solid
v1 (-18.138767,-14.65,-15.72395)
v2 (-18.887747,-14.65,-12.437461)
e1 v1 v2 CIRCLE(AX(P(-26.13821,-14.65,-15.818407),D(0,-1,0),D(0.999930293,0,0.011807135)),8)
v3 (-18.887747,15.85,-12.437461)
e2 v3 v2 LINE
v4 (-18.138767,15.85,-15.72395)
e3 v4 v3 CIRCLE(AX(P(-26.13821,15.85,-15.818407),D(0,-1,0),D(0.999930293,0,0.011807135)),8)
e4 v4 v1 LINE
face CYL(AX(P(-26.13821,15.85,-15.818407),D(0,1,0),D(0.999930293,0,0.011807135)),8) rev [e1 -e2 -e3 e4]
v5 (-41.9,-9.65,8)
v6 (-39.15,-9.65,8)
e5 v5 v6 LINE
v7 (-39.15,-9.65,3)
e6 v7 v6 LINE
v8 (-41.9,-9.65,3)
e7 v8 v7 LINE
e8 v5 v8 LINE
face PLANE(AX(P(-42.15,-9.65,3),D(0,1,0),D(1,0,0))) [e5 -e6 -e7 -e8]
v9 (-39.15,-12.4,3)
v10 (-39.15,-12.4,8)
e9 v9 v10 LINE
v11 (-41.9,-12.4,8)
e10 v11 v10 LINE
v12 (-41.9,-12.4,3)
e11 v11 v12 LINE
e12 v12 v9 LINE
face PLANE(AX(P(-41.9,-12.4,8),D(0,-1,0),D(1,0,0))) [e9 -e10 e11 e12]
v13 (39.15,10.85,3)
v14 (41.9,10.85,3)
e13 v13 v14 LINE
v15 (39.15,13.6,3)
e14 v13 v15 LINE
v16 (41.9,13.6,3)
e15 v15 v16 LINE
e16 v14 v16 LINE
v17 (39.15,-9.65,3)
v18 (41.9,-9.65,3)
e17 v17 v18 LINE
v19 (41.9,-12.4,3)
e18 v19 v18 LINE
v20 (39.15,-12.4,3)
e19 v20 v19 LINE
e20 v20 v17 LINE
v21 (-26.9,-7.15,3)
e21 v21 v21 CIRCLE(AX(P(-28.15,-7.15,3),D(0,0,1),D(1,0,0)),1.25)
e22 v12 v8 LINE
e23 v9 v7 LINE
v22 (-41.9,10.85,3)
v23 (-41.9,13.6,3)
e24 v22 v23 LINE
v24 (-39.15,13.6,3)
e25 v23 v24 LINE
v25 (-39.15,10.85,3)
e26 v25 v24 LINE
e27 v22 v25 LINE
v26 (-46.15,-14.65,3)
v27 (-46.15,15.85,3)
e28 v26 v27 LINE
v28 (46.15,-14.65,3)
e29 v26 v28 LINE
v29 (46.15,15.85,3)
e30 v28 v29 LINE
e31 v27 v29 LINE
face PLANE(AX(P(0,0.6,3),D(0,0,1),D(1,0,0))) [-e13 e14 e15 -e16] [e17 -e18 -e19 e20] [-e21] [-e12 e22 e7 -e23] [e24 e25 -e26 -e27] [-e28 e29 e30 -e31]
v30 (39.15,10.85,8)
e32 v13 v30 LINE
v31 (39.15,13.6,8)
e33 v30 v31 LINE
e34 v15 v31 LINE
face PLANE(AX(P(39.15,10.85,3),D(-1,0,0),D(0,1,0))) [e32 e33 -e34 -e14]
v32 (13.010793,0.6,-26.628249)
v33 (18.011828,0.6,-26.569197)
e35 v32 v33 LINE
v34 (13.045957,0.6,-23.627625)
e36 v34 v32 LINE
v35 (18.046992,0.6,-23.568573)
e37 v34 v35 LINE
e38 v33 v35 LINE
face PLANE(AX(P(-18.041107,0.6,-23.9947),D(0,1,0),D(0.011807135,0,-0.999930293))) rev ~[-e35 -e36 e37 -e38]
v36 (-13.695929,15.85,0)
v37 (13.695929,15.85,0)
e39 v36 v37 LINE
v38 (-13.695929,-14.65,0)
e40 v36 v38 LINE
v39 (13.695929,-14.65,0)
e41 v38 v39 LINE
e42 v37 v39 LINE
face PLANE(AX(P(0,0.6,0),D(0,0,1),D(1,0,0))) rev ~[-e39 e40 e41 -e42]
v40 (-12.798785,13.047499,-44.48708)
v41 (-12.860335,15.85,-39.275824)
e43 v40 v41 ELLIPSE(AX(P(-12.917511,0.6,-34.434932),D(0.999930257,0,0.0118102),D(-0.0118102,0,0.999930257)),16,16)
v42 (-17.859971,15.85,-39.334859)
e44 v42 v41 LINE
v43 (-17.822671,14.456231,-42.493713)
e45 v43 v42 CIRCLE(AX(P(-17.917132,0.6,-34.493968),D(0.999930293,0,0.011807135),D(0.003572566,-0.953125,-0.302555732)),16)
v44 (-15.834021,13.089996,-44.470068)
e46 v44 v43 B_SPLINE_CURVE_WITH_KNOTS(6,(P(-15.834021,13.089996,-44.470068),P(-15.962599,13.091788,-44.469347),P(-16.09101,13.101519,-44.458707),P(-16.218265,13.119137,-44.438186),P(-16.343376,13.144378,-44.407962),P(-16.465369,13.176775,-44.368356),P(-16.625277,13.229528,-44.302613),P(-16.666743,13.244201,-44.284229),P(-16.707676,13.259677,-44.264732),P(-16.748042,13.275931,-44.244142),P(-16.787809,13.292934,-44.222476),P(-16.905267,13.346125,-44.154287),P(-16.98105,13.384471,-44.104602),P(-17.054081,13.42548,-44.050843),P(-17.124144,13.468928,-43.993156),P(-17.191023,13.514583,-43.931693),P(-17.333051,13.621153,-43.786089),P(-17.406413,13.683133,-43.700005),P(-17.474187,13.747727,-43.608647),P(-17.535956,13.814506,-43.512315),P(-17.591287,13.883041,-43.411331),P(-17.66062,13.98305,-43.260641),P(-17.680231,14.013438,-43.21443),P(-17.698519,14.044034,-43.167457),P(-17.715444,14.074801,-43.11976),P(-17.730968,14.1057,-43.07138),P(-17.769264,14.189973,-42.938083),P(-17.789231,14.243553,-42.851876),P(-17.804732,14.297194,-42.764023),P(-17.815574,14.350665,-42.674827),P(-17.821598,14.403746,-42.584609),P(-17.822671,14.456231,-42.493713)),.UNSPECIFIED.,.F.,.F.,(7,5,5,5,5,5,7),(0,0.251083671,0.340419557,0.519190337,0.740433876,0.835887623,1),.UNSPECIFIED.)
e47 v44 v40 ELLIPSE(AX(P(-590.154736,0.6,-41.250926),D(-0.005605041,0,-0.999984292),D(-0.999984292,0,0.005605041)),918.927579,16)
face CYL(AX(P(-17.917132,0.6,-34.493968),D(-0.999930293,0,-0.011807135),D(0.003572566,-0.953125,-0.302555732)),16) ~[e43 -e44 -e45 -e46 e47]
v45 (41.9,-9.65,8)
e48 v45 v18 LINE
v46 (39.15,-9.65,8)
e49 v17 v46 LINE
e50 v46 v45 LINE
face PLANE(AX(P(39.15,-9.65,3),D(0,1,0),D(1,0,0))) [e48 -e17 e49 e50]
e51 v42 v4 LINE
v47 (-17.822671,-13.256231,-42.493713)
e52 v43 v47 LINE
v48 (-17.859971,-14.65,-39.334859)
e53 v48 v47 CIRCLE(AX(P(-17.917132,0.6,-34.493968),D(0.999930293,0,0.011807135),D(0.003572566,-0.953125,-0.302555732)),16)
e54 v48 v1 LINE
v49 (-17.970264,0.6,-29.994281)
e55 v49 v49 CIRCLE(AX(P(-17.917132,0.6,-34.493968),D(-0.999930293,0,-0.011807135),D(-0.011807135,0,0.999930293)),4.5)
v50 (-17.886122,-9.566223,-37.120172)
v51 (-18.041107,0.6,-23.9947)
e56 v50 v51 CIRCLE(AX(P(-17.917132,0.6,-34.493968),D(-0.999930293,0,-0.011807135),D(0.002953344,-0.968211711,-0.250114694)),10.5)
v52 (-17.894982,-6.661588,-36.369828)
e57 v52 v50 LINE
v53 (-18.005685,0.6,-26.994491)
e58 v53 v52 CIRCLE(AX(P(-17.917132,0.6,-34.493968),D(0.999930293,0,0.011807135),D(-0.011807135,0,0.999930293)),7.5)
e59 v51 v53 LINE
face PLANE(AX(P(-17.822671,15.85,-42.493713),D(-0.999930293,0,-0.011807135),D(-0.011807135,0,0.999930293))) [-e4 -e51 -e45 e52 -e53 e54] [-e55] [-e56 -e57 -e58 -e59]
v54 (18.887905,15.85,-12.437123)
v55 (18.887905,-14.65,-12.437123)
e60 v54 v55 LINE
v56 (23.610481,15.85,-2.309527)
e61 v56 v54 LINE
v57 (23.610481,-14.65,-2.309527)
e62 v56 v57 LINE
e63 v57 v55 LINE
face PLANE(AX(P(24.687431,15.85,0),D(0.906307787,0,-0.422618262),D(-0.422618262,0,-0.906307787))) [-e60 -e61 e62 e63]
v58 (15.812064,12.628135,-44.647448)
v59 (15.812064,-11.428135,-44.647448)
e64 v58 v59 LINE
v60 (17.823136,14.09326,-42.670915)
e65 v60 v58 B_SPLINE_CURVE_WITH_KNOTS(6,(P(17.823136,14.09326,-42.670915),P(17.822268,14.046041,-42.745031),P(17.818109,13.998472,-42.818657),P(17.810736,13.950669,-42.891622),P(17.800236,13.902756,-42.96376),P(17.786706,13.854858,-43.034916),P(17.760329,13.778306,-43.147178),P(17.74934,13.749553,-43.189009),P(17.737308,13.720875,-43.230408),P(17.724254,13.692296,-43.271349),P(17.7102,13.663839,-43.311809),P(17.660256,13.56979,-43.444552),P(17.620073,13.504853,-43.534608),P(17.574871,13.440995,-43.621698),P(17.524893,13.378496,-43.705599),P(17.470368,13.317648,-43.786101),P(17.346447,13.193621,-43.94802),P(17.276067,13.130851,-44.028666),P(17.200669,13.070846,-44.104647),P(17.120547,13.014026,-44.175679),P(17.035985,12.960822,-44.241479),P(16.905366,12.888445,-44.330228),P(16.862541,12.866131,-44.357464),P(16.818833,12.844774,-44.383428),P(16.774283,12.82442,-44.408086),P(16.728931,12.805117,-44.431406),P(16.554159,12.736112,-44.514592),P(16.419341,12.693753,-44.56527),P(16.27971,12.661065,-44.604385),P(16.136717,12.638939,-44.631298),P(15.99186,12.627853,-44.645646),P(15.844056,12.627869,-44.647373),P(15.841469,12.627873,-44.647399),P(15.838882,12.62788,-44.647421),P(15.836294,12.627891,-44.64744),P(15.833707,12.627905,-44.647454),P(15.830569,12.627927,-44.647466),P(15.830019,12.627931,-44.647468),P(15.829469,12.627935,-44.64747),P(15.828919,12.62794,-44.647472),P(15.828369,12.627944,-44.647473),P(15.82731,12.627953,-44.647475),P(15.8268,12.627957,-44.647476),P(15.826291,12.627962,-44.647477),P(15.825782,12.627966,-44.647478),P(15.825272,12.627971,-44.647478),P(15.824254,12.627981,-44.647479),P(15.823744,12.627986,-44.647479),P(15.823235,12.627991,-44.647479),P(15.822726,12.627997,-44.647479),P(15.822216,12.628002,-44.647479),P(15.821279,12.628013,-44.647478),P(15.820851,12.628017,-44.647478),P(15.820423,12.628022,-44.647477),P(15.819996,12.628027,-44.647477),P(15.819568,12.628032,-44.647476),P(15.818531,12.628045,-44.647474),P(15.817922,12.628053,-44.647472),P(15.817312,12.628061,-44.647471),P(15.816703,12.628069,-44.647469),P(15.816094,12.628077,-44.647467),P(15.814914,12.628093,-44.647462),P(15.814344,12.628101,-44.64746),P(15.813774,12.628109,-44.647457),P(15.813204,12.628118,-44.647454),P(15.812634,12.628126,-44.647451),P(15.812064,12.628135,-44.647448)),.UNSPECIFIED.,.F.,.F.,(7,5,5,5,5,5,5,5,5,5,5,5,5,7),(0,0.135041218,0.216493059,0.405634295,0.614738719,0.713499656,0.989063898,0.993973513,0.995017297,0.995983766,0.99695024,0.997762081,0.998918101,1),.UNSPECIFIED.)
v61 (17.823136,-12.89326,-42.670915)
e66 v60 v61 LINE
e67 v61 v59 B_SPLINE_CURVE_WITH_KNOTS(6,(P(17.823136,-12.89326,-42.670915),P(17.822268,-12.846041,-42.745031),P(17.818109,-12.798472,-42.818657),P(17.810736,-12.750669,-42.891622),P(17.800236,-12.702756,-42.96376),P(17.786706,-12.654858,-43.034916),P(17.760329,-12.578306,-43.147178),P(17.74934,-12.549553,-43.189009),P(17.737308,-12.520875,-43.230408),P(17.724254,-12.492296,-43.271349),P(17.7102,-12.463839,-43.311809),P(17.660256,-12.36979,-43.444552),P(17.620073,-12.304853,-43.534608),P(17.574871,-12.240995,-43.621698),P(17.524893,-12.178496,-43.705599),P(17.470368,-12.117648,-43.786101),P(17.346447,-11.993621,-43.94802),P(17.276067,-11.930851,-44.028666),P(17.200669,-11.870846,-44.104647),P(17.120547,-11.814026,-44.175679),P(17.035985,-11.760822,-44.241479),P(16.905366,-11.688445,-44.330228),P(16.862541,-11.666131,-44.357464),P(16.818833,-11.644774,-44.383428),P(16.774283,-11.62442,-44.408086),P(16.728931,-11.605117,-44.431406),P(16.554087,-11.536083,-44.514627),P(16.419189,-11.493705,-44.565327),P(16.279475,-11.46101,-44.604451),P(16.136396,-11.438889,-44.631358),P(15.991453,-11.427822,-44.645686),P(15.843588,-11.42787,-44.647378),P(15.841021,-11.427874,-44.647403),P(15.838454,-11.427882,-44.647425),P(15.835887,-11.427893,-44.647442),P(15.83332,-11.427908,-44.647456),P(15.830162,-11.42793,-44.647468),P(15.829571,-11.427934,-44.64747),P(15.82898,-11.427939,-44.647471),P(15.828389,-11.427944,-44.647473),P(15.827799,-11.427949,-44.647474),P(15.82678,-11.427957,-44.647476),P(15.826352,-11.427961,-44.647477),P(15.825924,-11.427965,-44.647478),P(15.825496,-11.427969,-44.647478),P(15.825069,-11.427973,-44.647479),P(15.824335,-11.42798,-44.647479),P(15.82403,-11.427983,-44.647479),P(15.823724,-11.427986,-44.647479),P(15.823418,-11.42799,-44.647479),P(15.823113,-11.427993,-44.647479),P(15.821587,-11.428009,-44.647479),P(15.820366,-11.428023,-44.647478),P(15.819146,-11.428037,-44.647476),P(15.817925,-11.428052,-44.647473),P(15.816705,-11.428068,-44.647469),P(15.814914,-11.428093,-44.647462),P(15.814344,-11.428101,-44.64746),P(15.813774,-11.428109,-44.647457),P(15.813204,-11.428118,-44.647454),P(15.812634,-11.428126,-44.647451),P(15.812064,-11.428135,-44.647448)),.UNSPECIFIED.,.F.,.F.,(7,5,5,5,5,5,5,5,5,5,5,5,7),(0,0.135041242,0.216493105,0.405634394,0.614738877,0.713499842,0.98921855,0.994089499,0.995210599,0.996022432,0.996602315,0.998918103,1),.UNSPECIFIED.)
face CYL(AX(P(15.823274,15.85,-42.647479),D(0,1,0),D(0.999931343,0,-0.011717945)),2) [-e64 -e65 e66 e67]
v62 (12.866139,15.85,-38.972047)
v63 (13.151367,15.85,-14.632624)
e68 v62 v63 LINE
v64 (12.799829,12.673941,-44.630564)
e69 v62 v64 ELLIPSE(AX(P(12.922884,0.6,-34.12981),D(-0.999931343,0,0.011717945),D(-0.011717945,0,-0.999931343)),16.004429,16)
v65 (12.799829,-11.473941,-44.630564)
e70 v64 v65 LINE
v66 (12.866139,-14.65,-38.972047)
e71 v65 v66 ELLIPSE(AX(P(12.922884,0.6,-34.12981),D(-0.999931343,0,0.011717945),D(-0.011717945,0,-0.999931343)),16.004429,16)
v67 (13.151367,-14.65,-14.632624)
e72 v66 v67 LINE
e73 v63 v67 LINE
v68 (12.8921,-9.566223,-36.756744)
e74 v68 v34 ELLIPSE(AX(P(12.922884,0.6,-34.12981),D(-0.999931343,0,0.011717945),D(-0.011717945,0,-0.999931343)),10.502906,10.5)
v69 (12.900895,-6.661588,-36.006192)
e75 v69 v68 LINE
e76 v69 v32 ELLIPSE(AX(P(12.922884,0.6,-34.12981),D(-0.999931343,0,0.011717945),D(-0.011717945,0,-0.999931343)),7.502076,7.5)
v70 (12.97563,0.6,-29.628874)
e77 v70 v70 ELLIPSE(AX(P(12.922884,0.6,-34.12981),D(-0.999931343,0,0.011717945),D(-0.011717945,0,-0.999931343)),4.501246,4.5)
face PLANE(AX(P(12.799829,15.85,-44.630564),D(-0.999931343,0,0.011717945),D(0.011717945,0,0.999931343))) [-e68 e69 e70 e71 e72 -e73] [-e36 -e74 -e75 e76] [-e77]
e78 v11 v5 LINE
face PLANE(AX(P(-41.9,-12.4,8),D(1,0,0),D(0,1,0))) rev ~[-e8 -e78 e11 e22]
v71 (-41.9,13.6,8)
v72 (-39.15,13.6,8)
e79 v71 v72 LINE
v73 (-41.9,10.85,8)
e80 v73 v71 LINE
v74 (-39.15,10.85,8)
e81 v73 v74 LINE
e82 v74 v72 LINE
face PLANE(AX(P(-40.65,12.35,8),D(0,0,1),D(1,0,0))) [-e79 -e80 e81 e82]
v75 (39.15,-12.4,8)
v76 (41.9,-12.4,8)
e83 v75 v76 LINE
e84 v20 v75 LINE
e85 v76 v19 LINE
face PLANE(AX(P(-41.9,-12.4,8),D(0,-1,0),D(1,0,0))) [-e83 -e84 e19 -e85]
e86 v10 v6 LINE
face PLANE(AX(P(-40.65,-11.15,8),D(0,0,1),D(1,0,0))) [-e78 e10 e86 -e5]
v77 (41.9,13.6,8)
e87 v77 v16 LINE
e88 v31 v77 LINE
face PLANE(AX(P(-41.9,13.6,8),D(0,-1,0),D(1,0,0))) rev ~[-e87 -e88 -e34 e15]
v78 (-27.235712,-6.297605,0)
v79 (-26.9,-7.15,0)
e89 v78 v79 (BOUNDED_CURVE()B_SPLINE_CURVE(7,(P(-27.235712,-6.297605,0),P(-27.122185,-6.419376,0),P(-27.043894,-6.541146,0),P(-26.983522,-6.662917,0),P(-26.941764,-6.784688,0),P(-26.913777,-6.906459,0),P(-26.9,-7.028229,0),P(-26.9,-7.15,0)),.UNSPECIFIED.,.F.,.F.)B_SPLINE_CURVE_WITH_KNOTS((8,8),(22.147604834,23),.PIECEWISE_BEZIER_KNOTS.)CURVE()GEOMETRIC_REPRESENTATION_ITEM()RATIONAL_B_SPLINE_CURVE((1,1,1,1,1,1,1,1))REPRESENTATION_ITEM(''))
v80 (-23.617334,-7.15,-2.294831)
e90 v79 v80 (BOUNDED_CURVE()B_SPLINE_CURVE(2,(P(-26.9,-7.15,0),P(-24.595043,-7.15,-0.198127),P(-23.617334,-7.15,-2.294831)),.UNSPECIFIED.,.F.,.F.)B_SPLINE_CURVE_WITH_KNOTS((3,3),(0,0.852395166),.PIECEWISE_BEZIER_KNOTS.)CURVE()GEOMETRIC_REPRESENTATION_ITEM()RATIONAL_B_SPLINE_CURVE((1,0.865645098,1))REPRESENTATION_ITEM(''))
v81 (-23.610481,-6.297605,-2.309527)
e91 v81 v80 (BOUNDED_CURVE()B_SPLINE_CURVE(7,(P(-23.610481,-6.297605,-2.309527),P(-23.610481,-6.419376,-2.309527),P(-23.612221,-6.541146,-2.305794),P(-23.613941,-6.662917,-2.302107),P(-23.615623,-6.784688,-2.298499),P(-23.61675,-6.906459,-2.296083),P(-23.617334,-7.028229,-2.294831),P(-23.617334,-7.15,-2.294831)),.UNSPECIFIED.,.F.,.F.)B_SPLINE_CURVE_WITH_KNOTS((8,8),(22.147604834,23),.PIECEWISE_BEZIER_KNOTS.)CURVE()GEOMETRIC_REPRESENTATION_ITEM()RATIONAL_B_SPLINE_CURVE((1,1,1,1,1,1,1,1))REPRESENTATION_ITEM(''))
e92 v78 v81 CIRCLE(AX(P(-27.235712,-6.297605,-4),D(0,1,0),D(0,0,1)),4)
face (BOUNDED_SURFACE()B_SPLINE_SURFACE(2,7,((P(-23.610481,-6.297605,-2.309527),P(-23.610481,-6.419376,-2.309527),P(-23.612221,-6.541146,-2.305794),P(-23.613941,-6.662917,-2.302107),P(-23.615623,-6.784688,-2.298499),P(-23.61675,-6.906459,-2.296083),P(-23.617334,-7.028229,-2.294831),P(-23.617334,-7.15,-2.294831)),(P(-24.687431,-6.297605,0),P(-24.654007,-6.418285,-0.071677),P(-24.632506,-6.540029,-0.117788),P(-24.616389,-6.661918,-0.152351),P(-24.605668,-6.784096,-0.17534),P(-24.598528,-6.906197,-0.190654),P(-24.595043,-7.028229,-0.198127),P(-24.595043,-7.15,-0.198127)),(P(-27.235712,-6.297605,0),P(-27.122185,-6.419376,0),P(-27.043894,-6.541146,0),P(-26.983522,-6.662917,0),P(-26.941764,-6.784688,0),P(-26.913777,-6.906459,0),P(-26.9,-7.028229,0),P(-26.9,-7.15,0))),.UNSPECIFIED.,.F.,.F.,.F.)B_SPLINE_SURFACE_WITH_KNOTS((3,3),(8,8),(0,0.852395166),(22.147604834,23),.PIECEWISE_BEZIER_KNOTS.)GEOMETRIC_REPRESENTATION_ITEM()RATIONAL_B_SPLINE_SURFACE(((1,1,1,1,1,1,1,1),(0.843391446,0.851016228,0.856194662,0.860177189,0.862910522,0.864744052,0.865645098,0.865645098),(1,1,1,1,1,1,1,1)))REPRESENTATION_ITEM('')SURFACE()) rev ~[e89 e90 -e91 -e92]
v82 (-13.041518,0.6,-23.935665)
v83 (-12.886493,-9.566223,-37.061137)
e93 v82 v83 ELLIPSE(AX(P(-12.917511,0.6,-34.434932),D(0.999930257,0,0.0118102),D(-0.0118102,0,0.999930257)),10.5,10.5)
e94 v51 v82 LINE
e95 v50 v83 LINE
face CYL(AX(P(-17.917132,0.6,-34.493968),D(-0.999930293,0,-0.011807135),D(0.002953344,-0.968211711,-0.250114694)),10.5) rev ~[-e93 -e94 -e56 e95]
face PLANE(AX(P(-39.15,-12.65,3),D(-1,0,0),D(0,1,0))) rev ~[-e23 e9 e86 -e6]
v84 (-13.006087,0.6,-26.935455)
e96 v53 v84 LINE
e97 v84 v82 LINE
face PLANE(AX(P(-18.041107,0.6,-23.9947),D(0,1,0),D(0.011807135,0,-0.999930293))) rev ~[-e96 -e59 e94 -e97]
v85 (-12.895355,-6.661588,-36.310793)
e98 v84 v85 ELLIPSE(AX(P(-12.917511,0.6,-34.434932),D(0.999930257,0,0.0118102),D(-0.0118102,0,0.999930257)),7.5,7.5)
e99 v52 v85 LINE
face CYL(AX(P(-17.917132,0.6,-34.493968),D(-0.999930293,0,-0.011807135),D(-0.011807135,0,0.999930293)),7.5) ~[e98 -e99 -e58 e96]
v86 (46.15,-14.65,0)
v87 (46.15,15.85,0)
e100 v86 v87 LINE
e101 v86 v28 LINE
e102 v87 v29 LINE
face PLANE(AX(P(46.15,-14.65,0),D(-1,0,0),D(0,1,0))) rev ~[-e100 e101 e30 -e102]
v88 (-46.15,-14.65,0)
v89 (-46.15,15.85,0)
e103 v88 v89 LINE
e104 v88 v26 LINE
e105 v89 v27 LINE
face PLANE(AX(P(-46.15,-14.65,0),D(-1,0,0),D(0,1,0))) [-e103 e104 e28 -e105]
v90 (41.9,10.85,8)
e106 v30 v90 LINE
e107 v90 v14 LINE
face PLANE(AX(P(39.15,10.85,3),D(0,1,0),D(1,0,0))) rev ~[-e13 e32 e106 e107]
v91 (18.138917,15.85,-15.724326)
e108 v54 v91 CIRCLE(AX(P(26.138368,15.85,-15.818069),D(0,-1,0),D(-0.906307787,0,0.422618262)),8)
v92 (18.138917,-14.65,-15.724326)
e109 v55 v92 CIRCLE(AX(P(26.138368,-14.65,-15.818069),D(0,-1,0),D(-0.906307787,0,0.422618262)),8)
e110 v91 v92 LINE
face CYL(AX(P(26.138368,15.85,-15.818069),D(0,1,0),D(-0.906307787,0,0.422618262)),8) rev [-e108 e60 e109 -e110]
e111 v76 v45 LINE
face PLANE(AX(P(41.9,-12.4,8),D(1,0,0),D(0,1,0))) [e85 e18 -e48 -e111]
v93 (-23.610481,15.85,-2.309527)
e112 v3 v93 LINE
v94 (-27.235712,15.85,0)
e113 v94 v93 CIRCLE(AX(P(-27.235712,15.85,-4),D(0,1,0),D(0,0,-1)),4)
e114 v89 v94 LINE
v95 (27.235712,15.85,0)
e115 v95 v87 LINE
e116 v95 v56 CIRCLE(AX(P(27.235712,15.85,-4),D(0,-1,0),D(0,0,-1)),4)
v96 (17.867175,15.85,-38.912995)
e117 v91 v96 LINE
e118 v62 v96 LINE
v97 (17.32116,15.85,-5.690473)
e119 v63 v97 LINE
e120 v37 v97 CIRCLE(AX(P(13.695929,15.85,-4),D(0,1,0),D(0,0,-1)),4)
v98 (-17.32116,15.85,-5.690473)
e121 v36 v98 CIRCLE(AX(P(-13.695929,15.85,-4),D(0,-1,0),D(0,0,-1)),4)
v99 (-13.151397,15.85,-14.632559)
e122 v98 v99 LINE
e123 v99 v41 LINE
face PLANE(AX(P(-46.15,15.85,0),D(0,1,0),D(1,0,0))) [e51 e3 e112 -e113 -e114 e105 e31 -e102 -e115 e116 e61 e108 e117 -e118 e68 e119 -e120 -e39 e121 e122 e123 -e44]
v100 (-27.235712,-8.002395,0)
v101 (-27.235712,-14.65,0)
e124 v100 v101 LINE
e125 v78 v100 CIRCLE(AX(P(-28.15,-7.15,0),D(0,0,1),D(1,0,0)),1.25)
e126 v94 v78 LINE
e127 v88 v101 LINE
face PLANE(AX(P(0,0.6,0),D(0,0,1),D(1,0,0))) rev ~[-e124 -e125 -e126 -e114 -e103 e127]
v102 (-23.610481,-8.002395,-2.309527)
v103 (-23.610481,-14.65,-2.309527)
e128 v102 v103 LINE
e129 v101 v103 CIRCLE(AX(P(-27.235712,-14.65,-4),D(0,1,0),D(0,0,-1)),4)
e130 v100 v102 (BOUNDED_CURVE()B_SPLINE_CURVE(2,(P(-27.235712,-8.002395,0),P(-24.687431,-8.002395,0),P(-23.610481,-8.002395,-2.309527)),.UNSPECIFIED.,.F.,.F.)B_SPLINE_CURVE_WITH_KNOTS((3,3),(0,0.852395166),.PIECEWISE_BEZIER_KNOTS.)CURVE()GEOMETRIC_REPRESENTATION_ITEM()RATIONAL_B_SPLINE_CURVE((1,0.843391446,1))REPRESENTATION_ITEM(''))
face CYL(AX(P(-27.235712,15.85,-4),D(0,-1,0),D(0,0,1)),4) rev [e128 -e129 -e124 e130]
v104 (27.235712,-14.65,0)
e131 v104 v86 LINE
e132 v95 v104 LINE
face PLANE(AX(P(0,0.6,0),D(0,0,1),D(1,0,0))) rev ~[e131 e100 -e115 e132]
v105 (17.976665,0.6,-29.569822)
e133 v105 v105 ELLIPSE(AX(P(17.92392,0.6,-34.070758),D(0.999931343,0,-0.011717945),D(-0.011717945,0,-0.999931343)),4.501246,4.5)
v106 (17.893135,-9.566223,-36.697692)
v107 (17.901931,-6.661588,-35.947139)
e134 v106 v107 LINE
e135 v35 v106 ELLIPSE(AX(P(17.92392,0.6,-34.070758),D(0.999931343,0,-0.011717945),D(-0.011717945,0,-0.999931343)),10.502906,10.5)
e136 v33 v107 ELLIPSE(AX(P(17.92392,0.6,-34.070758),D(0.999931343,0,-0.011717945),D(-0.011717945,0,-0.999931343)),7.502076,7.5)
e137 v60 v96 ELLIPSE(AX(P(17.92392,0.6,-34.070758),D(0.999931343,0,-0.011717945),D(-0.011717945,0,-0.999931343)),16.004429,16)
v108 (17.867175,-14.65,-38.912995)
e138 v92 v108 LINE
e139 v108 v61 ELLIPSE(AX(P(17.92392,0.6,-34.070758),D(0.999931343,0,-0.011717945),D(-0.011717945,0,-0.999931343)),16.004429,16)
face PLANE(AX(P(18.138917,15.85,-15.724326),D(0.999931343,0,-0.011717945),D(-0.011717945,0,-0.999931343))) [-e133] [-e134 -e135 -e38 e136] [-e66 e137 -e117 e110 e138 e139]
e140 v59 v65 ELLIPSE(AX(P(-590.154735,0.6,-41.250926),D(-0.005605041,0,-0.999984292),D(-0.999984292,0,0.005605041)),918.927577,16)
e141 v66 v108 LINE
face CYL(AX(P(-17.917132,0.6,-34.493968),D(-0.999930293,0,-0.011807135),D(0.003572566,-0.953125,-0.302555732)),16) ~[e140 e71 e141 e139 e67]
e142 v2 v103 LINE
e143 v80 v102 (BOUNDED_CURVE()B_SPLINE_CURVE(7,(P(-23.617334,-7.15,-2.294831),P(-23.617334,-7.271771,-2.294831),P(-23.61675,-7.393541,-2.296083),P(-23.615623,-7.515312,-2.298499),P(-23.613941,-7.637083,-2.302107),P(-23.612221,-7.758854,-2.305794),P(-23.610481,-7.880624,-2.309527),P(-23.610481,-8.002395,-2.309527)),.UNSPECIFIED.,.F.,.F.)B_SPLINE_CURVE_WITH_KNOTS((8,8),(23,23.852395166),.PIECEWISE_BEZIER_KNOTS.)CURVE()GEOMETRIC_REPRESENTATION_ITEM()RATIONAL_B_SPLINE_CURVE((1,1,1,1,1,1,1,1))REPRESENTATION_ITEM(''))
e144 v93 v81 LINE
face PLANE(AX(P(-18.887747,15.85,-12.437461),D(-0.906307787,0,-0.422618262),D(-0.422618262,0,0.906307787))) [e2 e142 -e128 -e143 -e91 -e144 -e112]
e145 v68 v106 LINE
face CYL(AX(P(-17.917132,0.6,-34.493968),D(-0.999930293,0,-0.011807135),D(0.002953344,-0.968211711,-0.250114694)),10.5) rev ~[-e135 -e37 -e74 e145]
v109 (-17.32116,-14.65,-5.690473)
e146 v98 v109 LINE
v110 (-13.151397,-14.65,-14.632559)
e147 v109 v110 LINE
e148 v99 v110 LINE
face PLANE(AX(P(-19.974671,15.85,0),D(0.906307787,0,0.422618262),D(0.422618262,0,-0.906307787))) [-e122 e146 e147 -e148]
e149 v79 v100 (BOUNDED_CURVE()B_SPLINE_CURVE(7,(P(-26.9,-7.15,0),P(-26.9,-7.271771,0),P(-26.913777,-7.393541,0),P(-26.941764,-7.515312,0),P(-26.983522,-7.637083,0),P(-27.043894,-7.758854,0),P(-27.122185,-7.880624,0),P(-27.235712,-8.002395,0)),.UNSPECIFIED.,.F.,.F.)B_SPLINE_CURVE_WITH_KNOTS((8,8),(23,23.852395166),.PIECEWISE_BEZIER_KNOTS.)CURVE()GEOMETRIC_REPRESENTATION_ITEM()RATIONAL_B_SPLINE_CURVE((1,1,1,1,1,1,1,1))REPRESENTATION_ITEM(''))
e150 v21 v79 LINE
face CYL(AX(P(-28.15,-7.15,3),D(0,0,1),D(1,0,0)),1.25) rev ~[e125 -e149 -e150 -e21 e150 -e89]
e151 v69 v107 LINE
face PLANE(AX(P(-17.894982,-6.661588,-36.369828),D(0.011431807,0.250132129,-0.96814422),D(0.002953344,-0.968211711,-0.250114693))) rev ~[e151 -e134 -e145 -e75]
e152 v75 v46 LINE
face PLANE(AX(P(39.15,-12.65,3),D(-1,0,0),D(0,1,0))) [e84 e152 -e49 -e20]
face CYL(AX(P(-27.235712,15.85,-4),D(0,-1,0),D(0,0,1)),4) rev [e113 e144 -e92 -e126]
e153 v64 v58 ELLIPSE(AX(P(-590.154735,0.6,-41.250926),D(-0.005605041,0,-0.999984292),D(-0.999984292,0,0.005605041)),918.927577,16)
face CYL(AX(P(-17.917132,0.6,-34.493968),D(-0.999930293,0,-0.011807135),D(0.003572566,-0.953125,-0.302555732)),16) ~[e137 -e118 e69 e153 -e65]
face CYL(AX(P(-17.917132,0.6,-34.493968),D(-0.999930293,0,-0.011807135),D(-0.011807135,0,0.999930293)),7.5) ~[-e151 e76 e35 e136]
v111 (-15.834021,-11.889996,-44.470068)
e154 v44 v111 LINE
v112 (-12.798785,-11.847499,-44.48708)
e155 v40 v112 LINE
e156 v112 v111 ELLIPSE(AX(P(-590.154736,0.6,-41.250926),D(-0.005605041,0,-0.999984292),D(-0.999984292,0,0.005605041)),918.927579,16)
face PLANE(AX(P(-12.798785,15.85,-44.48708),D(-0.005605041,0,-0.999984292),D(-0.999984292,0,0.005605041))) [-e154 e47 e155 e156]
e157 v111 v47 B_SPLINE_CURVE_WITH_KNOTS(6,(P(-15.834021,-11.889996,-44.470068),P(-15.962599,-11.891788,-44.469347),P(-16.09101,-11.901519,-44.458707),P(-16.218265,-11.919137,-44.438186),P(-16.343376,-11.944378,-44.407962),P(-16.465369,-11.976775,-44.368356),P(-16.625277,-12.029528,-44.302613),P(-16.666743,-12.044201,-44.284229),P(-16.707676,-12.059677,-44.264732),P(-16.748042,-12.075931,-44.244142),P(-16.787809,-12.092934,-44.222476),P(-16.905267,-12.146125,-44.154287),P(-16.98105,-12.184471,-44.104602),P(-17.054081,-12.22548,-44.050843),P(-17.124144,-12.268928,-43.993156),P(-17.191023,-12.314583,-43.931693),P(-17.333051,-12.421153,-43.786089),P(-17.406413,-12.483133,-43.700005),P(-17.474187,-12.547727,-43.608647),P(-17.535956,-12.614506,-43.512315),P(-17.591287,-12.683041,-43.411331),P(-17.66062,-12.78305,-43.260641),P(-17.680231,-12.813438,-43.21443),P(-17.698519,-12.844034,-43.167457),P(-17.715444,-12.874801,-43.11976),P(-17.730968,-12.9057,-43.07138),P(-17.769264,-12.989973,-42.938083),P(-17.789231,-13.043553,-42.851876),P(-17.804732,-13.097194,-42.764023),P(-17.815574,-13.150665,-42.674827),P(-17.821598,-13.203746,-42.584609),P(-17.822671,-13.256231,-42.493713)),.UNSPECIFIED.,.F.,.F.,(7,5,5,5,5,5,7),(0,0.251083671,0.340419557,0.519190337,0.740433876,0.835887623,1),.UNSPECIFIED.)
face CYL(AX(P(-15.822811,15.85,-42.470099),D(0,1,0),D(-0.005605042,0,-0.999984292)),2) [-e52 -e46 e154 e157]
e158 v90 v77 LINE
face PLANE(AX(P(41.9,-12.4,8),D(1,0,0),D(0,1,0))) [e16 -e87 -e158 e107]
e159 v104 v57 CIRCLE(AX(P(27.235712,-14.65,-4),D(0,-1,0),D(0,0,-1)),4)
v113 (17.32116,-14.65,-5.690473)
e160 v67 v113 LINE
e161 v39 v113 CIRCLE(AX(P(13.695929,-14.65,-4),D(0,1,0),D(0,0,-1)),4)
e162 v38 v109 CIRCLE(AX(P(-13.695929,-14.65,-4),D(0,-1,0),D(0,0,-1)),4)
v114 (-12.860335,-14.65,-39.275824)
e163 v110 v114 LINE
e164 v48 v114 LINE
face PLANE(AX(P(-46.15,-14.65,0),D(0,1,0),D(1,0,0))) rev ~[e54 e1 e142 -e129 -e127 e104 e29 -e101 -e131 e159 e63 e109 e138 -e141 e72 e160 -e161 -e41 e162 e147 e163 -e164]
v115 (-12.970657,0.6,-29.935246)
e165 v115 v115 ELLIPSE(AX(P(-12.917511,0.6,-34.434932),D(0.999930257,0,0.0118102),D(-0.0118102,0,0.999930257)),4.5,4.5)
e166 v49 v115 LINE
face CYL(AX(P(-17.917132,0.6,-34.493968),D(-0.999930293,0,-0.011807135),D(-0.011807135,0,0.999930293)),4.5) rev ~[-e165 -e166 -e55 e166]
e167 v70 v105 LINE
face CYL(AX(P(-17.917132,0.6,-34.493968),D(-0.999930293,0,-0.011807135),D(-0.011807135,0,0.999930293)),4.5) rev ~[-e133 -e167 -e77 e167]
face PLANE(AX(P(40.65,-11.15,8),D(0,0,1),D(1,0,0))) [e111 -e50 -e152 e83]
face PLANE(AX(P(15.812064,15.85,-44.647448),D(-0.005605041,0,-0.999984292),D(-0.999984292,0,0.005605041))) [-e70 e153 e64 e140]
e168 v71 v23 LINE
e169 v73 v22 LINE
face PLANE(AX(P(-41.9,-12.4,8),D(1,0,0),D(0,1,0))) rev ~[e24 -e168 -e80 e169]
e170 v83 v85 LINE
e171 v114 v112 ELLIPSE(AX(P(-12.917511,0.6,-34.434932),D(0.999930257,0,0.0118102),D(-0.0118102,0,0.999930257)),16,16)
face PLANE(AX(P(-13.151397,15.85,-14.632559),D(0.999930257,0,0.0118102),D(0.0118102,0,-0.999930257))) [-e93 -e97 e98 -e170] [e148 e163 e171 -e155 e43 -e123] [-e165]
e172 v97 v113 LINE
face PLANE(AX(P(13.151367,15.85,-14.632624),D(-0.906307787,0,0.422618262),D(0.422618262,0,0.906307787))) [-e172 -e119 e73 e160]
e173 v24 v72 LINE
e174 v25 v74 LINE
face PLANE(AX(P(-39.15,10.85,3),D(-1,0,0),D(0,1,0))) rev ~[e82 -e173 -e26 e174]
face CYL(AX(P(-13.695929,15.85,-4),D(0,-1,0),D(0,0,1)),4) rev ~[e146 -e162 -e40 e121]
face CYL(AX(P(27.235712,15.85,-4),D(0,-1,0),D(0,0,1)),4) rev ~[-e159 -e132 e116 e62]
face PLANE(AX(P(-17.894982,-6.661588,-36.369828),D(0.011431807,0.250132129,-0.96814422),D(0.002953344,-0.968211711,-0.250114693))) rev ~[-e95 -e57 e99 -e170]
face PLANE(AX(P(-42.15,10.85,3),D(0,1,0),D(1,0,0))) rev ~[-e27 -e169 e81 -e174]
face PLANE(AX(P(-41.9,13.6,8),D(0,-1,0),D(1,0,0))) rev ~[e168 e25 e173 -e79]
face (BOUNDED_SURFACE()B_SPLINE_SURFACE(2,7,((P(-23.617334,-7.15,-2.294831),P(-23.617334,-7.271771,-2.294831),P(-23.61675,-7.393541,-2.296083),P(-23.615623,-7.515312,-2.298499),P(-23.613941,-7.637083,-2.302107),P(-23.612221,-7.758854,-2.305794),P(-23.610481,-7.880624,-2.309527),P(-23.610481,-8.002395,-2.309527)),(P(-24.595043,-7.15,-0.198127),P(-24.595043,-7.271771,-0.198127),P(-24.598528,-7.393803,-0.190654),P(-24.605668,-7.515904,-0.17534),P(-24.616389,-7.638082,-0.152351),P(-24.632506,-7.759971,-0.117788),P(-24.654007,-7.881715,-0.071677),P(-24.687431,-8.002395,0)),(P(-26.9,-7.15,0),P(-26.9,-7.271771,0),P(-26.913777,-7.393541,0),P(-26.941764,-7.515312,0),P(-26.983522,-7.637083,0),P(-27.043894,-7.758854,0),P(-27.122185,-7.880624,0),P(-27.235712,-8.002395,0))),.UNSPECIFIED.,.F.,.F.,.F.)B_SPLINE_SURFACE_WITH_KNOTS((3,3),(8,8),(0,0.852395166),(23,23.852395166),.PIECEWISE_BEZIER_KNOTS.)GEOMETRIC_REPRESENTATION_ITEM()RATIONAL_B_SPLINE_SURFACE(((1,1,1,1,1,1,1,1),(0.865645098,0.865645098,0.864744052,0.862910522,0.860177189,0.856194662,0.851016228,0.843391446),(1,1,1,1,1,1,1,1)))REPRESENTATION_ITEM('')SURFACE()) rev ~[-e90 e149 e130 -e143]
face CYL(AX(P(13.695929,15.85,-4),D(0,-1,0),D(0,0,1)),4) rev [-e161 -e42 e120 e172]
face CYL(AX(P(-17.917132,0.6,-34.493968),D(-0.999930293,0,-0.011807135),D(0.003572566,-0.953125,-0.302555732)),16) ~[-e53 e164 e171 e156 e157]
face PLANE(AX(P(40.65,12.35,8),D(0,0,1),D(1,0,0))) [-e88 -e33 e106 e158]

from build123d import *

# Parameters (mm, degrees)
SKETCH1_W           = 92.3
SKETCH1_H           = 30.5
SKETCH1_W_2         = 84.3
SKETCH1_H_2         = 26.5
BOSS_EXTRUDE1_DEPTH = 3
SKETCH2_W           = 3
SKETCH2_H           = 3
BOSS_EXTRUDE2_DEPTH = 5
SKETCH13_W          = 92.3
SKETCH13_H          = 30.5
SKETCH13_W_2        = 83.8
SKETCH13_H_2        = 26
CUT_EXTRUDE9_DEPTH  = 5
SKETCH12_R          = 1.25
CUT_EXTRUDE8_DEPTH  = 12
BOSS_EXTRUDE4_DEPTH = 30.5
FILLET1_R           = 4
SKETCH15_R          = 4.5
CUT_EXTRUDE10_DEPTH = 51


with BuildPart() as part:
    # Sketch1 → Boss-Extrude1 (new body)
    # profile 1 of 2: a face of its own
    with BuildSketch(Plane.XY):
        with Locations((0, 0.6)):
            Rectangle(SKETCH1_W, SKETCH1_H)
        with Locations((0, 0.6)):
            Rectangle(SKETCH1_W_2, SKETCH1_H_2, mode=Mode.SUBTRACT)
    # profile 2 of 2: a face of its own
    with BuildSketch(Plane.XY):
        with Locations((0, 0.6)):
            Rectangle(SKETCH1_W_2, SKETCH1_H_2)
    extrude(amount=BOSS_EXTRUDE1_DEPTH)

    # Sketch2 → Boss-Extrude2 (add)
    with BuildSketch(Plane.XY.offset(3)):
        with Locations((-40.65, 12.35)):
            Rectangle(SKETCH2_W, SKETCH2_H)
        with Locations((40.65, 12.35)):
            Rectangle(SKETCH2_W, SKETCH2_H)
        with Locations((40.65, -11.15)):
            Rectangle(SKETCH2_W, SKETCH2_H)
        with Locations((-40.65, -11.15)):
            Rectangle(SKETCH2_W, SKETCH2_H)
    extrude(amount=BOSS_EXTRUDE2_DEPTH)

    # Sketch13 → Cut-Extrude9 (cut)
    with BuildSketch(Plane.XY.offset(8)):
        with Locations((0, 0.6)):
            Rectangle(SKETCH13_W, SKETCH13_H)
        with Locations((0, 0.6)):
            Rectangle(SKETCH13_W_2, SKETCH13_H_2, mode=Mode.SUBTRACT)
    extrude(amount=-CUT_EXTRUDE9_DEPTH, mode=Mode.SUBTRACT)

    # Sketch12 → Cut-Extrude8 (cut)
    with BuildSketch(Plane.XY.offset(3)):
        with Locations((-28.15, -7.15)):
            Circle(SKETCH12_R)
    extrude(amount=-CUT_EXTRUDE8_DEPTH, mode=Mode.SUBTRACT)

    # Sketch14 → Boss-Extrude4 (add)
    with BuildSketch(Plane(origin=(0, 15.85, 0), x_dir=(1, 0, 0), z_dir=(0, 1, 0))):
        with BuildLine():
            Line((12.799828546, 44.630563997), (13.151366909, 14.632623721))
            Line((13.151366909, 14.632623721), (19.974671409, 0))
            Line((19.974671409, 0), (24.687430993, 0))
            Line((24.687430993, 0), (18.887905283, 12.437123022))
            ThreePointArc((18.887905283, 12.437123022), (18.338278668, 14.040820406), (18.138916839, 15.724325552))
            Line((18.138916839, 15.724325552), (17.823136491, 42.670915272))
            ThreePointArc((17.823136491, 42.670915272), (17.22518506, 44.073889153), (15.812063723, 44.647447965))
            Line((15.812063723, 44.647447965), (12.799828546, 44.630563997))
        make_face()
        with BuildLine():
            Line((-13.151397234, 14.632558688), (-12.798784772, 44.487080457))
            Line((-12.798784772, 44.487080457), (-15.83402069, 44.470067567))
            ThreePointArc((-15.83402069, 44.470067567), (-17.23263166, 43.888691454), (-17.822671194, 42.493713254))
            Line((-17.822671194, 42.493713254), (-18.138767444, 15.72395041))
            ThreePointArc((-18.138767444, 15.72395041), (-18.338200149, 14.040810917), (-18.887747495, 12.4374614))
            Line((-18.887747495, 12.4374614), (-24.687430993, 0))
            Line((-24.687430993, 0), (-19.974671409, 0))
            Line((-19.974671409, 0), (-13.151397234, 14.632558688))
        make_face()
    extrude(amount=-BOSS_EXTRUDE4_DEPTH)

    # Fillet1
    fillet1_edges = [part.edges().sort_by_distance(p)[0] for p in [
        (24.687430993, 0.6, 0),
        (19.974671409, 0.6, 0),
        (-19.974671409, 0.6, 0),
        (-24.687430993, 0.6, 0),
    ]]
    fillet(fillet1_edges, radius=FILLET1_R)

    # Sketch15 → Cut-Extrude10 (cut)
    with BuildSketch(Plane(origin=(-18.321880618, 0, -0.216344007), x_dir=(-0.011807135462763681, 0, 0.9999302933465732), z_dir=(-0.9999302933465732, 0, -0.011807135462763681))):
        with Locations((-34.28001328, 0.6)):
            Circle(SKETCH15_R)
        with BuildLine():
            Line((-39.121242463, 15.85), (-39.121242463, 17.869989606))
            Line((-39.121242463, 17.869989606), (-55.967413811, 17.869989606))
            Line((-55.967413811, 17.869989606), (-55.967413811, -17.820804899))
            Line((-55.967413811, -17.820804899), (-39.121242463, -17.820804899))
            Line((-39.121242463, -17.820804899), (-39.121242463, -14.65))
            ThreePointArc((-39.121242463, -14.65), (-50.28001328, 0.6), (-39.121242463, 15.85))
        make_face()
        with BuildLine():
            Line((-36.156004252, -6.661587834), (-36.90640064, -9.566222968))
            ThreePointArc((-36.90640064, -9.566222968), (-27.850669118, -7.701417568), (-23.78001328, 0.6))
            Line((-23.78001328, 0.6), (-26.78001328, 0.6))
            ThreePointArc((-26.78001328, 0.6), (-29.687624593, -5.329583977), (-36.156004252, -6.661587834))
        make_face()
    extrude(amount=-CUT_EXTRUDE10_DEPTH, mode=Mode.SUBTRACT)


solid = part.part
